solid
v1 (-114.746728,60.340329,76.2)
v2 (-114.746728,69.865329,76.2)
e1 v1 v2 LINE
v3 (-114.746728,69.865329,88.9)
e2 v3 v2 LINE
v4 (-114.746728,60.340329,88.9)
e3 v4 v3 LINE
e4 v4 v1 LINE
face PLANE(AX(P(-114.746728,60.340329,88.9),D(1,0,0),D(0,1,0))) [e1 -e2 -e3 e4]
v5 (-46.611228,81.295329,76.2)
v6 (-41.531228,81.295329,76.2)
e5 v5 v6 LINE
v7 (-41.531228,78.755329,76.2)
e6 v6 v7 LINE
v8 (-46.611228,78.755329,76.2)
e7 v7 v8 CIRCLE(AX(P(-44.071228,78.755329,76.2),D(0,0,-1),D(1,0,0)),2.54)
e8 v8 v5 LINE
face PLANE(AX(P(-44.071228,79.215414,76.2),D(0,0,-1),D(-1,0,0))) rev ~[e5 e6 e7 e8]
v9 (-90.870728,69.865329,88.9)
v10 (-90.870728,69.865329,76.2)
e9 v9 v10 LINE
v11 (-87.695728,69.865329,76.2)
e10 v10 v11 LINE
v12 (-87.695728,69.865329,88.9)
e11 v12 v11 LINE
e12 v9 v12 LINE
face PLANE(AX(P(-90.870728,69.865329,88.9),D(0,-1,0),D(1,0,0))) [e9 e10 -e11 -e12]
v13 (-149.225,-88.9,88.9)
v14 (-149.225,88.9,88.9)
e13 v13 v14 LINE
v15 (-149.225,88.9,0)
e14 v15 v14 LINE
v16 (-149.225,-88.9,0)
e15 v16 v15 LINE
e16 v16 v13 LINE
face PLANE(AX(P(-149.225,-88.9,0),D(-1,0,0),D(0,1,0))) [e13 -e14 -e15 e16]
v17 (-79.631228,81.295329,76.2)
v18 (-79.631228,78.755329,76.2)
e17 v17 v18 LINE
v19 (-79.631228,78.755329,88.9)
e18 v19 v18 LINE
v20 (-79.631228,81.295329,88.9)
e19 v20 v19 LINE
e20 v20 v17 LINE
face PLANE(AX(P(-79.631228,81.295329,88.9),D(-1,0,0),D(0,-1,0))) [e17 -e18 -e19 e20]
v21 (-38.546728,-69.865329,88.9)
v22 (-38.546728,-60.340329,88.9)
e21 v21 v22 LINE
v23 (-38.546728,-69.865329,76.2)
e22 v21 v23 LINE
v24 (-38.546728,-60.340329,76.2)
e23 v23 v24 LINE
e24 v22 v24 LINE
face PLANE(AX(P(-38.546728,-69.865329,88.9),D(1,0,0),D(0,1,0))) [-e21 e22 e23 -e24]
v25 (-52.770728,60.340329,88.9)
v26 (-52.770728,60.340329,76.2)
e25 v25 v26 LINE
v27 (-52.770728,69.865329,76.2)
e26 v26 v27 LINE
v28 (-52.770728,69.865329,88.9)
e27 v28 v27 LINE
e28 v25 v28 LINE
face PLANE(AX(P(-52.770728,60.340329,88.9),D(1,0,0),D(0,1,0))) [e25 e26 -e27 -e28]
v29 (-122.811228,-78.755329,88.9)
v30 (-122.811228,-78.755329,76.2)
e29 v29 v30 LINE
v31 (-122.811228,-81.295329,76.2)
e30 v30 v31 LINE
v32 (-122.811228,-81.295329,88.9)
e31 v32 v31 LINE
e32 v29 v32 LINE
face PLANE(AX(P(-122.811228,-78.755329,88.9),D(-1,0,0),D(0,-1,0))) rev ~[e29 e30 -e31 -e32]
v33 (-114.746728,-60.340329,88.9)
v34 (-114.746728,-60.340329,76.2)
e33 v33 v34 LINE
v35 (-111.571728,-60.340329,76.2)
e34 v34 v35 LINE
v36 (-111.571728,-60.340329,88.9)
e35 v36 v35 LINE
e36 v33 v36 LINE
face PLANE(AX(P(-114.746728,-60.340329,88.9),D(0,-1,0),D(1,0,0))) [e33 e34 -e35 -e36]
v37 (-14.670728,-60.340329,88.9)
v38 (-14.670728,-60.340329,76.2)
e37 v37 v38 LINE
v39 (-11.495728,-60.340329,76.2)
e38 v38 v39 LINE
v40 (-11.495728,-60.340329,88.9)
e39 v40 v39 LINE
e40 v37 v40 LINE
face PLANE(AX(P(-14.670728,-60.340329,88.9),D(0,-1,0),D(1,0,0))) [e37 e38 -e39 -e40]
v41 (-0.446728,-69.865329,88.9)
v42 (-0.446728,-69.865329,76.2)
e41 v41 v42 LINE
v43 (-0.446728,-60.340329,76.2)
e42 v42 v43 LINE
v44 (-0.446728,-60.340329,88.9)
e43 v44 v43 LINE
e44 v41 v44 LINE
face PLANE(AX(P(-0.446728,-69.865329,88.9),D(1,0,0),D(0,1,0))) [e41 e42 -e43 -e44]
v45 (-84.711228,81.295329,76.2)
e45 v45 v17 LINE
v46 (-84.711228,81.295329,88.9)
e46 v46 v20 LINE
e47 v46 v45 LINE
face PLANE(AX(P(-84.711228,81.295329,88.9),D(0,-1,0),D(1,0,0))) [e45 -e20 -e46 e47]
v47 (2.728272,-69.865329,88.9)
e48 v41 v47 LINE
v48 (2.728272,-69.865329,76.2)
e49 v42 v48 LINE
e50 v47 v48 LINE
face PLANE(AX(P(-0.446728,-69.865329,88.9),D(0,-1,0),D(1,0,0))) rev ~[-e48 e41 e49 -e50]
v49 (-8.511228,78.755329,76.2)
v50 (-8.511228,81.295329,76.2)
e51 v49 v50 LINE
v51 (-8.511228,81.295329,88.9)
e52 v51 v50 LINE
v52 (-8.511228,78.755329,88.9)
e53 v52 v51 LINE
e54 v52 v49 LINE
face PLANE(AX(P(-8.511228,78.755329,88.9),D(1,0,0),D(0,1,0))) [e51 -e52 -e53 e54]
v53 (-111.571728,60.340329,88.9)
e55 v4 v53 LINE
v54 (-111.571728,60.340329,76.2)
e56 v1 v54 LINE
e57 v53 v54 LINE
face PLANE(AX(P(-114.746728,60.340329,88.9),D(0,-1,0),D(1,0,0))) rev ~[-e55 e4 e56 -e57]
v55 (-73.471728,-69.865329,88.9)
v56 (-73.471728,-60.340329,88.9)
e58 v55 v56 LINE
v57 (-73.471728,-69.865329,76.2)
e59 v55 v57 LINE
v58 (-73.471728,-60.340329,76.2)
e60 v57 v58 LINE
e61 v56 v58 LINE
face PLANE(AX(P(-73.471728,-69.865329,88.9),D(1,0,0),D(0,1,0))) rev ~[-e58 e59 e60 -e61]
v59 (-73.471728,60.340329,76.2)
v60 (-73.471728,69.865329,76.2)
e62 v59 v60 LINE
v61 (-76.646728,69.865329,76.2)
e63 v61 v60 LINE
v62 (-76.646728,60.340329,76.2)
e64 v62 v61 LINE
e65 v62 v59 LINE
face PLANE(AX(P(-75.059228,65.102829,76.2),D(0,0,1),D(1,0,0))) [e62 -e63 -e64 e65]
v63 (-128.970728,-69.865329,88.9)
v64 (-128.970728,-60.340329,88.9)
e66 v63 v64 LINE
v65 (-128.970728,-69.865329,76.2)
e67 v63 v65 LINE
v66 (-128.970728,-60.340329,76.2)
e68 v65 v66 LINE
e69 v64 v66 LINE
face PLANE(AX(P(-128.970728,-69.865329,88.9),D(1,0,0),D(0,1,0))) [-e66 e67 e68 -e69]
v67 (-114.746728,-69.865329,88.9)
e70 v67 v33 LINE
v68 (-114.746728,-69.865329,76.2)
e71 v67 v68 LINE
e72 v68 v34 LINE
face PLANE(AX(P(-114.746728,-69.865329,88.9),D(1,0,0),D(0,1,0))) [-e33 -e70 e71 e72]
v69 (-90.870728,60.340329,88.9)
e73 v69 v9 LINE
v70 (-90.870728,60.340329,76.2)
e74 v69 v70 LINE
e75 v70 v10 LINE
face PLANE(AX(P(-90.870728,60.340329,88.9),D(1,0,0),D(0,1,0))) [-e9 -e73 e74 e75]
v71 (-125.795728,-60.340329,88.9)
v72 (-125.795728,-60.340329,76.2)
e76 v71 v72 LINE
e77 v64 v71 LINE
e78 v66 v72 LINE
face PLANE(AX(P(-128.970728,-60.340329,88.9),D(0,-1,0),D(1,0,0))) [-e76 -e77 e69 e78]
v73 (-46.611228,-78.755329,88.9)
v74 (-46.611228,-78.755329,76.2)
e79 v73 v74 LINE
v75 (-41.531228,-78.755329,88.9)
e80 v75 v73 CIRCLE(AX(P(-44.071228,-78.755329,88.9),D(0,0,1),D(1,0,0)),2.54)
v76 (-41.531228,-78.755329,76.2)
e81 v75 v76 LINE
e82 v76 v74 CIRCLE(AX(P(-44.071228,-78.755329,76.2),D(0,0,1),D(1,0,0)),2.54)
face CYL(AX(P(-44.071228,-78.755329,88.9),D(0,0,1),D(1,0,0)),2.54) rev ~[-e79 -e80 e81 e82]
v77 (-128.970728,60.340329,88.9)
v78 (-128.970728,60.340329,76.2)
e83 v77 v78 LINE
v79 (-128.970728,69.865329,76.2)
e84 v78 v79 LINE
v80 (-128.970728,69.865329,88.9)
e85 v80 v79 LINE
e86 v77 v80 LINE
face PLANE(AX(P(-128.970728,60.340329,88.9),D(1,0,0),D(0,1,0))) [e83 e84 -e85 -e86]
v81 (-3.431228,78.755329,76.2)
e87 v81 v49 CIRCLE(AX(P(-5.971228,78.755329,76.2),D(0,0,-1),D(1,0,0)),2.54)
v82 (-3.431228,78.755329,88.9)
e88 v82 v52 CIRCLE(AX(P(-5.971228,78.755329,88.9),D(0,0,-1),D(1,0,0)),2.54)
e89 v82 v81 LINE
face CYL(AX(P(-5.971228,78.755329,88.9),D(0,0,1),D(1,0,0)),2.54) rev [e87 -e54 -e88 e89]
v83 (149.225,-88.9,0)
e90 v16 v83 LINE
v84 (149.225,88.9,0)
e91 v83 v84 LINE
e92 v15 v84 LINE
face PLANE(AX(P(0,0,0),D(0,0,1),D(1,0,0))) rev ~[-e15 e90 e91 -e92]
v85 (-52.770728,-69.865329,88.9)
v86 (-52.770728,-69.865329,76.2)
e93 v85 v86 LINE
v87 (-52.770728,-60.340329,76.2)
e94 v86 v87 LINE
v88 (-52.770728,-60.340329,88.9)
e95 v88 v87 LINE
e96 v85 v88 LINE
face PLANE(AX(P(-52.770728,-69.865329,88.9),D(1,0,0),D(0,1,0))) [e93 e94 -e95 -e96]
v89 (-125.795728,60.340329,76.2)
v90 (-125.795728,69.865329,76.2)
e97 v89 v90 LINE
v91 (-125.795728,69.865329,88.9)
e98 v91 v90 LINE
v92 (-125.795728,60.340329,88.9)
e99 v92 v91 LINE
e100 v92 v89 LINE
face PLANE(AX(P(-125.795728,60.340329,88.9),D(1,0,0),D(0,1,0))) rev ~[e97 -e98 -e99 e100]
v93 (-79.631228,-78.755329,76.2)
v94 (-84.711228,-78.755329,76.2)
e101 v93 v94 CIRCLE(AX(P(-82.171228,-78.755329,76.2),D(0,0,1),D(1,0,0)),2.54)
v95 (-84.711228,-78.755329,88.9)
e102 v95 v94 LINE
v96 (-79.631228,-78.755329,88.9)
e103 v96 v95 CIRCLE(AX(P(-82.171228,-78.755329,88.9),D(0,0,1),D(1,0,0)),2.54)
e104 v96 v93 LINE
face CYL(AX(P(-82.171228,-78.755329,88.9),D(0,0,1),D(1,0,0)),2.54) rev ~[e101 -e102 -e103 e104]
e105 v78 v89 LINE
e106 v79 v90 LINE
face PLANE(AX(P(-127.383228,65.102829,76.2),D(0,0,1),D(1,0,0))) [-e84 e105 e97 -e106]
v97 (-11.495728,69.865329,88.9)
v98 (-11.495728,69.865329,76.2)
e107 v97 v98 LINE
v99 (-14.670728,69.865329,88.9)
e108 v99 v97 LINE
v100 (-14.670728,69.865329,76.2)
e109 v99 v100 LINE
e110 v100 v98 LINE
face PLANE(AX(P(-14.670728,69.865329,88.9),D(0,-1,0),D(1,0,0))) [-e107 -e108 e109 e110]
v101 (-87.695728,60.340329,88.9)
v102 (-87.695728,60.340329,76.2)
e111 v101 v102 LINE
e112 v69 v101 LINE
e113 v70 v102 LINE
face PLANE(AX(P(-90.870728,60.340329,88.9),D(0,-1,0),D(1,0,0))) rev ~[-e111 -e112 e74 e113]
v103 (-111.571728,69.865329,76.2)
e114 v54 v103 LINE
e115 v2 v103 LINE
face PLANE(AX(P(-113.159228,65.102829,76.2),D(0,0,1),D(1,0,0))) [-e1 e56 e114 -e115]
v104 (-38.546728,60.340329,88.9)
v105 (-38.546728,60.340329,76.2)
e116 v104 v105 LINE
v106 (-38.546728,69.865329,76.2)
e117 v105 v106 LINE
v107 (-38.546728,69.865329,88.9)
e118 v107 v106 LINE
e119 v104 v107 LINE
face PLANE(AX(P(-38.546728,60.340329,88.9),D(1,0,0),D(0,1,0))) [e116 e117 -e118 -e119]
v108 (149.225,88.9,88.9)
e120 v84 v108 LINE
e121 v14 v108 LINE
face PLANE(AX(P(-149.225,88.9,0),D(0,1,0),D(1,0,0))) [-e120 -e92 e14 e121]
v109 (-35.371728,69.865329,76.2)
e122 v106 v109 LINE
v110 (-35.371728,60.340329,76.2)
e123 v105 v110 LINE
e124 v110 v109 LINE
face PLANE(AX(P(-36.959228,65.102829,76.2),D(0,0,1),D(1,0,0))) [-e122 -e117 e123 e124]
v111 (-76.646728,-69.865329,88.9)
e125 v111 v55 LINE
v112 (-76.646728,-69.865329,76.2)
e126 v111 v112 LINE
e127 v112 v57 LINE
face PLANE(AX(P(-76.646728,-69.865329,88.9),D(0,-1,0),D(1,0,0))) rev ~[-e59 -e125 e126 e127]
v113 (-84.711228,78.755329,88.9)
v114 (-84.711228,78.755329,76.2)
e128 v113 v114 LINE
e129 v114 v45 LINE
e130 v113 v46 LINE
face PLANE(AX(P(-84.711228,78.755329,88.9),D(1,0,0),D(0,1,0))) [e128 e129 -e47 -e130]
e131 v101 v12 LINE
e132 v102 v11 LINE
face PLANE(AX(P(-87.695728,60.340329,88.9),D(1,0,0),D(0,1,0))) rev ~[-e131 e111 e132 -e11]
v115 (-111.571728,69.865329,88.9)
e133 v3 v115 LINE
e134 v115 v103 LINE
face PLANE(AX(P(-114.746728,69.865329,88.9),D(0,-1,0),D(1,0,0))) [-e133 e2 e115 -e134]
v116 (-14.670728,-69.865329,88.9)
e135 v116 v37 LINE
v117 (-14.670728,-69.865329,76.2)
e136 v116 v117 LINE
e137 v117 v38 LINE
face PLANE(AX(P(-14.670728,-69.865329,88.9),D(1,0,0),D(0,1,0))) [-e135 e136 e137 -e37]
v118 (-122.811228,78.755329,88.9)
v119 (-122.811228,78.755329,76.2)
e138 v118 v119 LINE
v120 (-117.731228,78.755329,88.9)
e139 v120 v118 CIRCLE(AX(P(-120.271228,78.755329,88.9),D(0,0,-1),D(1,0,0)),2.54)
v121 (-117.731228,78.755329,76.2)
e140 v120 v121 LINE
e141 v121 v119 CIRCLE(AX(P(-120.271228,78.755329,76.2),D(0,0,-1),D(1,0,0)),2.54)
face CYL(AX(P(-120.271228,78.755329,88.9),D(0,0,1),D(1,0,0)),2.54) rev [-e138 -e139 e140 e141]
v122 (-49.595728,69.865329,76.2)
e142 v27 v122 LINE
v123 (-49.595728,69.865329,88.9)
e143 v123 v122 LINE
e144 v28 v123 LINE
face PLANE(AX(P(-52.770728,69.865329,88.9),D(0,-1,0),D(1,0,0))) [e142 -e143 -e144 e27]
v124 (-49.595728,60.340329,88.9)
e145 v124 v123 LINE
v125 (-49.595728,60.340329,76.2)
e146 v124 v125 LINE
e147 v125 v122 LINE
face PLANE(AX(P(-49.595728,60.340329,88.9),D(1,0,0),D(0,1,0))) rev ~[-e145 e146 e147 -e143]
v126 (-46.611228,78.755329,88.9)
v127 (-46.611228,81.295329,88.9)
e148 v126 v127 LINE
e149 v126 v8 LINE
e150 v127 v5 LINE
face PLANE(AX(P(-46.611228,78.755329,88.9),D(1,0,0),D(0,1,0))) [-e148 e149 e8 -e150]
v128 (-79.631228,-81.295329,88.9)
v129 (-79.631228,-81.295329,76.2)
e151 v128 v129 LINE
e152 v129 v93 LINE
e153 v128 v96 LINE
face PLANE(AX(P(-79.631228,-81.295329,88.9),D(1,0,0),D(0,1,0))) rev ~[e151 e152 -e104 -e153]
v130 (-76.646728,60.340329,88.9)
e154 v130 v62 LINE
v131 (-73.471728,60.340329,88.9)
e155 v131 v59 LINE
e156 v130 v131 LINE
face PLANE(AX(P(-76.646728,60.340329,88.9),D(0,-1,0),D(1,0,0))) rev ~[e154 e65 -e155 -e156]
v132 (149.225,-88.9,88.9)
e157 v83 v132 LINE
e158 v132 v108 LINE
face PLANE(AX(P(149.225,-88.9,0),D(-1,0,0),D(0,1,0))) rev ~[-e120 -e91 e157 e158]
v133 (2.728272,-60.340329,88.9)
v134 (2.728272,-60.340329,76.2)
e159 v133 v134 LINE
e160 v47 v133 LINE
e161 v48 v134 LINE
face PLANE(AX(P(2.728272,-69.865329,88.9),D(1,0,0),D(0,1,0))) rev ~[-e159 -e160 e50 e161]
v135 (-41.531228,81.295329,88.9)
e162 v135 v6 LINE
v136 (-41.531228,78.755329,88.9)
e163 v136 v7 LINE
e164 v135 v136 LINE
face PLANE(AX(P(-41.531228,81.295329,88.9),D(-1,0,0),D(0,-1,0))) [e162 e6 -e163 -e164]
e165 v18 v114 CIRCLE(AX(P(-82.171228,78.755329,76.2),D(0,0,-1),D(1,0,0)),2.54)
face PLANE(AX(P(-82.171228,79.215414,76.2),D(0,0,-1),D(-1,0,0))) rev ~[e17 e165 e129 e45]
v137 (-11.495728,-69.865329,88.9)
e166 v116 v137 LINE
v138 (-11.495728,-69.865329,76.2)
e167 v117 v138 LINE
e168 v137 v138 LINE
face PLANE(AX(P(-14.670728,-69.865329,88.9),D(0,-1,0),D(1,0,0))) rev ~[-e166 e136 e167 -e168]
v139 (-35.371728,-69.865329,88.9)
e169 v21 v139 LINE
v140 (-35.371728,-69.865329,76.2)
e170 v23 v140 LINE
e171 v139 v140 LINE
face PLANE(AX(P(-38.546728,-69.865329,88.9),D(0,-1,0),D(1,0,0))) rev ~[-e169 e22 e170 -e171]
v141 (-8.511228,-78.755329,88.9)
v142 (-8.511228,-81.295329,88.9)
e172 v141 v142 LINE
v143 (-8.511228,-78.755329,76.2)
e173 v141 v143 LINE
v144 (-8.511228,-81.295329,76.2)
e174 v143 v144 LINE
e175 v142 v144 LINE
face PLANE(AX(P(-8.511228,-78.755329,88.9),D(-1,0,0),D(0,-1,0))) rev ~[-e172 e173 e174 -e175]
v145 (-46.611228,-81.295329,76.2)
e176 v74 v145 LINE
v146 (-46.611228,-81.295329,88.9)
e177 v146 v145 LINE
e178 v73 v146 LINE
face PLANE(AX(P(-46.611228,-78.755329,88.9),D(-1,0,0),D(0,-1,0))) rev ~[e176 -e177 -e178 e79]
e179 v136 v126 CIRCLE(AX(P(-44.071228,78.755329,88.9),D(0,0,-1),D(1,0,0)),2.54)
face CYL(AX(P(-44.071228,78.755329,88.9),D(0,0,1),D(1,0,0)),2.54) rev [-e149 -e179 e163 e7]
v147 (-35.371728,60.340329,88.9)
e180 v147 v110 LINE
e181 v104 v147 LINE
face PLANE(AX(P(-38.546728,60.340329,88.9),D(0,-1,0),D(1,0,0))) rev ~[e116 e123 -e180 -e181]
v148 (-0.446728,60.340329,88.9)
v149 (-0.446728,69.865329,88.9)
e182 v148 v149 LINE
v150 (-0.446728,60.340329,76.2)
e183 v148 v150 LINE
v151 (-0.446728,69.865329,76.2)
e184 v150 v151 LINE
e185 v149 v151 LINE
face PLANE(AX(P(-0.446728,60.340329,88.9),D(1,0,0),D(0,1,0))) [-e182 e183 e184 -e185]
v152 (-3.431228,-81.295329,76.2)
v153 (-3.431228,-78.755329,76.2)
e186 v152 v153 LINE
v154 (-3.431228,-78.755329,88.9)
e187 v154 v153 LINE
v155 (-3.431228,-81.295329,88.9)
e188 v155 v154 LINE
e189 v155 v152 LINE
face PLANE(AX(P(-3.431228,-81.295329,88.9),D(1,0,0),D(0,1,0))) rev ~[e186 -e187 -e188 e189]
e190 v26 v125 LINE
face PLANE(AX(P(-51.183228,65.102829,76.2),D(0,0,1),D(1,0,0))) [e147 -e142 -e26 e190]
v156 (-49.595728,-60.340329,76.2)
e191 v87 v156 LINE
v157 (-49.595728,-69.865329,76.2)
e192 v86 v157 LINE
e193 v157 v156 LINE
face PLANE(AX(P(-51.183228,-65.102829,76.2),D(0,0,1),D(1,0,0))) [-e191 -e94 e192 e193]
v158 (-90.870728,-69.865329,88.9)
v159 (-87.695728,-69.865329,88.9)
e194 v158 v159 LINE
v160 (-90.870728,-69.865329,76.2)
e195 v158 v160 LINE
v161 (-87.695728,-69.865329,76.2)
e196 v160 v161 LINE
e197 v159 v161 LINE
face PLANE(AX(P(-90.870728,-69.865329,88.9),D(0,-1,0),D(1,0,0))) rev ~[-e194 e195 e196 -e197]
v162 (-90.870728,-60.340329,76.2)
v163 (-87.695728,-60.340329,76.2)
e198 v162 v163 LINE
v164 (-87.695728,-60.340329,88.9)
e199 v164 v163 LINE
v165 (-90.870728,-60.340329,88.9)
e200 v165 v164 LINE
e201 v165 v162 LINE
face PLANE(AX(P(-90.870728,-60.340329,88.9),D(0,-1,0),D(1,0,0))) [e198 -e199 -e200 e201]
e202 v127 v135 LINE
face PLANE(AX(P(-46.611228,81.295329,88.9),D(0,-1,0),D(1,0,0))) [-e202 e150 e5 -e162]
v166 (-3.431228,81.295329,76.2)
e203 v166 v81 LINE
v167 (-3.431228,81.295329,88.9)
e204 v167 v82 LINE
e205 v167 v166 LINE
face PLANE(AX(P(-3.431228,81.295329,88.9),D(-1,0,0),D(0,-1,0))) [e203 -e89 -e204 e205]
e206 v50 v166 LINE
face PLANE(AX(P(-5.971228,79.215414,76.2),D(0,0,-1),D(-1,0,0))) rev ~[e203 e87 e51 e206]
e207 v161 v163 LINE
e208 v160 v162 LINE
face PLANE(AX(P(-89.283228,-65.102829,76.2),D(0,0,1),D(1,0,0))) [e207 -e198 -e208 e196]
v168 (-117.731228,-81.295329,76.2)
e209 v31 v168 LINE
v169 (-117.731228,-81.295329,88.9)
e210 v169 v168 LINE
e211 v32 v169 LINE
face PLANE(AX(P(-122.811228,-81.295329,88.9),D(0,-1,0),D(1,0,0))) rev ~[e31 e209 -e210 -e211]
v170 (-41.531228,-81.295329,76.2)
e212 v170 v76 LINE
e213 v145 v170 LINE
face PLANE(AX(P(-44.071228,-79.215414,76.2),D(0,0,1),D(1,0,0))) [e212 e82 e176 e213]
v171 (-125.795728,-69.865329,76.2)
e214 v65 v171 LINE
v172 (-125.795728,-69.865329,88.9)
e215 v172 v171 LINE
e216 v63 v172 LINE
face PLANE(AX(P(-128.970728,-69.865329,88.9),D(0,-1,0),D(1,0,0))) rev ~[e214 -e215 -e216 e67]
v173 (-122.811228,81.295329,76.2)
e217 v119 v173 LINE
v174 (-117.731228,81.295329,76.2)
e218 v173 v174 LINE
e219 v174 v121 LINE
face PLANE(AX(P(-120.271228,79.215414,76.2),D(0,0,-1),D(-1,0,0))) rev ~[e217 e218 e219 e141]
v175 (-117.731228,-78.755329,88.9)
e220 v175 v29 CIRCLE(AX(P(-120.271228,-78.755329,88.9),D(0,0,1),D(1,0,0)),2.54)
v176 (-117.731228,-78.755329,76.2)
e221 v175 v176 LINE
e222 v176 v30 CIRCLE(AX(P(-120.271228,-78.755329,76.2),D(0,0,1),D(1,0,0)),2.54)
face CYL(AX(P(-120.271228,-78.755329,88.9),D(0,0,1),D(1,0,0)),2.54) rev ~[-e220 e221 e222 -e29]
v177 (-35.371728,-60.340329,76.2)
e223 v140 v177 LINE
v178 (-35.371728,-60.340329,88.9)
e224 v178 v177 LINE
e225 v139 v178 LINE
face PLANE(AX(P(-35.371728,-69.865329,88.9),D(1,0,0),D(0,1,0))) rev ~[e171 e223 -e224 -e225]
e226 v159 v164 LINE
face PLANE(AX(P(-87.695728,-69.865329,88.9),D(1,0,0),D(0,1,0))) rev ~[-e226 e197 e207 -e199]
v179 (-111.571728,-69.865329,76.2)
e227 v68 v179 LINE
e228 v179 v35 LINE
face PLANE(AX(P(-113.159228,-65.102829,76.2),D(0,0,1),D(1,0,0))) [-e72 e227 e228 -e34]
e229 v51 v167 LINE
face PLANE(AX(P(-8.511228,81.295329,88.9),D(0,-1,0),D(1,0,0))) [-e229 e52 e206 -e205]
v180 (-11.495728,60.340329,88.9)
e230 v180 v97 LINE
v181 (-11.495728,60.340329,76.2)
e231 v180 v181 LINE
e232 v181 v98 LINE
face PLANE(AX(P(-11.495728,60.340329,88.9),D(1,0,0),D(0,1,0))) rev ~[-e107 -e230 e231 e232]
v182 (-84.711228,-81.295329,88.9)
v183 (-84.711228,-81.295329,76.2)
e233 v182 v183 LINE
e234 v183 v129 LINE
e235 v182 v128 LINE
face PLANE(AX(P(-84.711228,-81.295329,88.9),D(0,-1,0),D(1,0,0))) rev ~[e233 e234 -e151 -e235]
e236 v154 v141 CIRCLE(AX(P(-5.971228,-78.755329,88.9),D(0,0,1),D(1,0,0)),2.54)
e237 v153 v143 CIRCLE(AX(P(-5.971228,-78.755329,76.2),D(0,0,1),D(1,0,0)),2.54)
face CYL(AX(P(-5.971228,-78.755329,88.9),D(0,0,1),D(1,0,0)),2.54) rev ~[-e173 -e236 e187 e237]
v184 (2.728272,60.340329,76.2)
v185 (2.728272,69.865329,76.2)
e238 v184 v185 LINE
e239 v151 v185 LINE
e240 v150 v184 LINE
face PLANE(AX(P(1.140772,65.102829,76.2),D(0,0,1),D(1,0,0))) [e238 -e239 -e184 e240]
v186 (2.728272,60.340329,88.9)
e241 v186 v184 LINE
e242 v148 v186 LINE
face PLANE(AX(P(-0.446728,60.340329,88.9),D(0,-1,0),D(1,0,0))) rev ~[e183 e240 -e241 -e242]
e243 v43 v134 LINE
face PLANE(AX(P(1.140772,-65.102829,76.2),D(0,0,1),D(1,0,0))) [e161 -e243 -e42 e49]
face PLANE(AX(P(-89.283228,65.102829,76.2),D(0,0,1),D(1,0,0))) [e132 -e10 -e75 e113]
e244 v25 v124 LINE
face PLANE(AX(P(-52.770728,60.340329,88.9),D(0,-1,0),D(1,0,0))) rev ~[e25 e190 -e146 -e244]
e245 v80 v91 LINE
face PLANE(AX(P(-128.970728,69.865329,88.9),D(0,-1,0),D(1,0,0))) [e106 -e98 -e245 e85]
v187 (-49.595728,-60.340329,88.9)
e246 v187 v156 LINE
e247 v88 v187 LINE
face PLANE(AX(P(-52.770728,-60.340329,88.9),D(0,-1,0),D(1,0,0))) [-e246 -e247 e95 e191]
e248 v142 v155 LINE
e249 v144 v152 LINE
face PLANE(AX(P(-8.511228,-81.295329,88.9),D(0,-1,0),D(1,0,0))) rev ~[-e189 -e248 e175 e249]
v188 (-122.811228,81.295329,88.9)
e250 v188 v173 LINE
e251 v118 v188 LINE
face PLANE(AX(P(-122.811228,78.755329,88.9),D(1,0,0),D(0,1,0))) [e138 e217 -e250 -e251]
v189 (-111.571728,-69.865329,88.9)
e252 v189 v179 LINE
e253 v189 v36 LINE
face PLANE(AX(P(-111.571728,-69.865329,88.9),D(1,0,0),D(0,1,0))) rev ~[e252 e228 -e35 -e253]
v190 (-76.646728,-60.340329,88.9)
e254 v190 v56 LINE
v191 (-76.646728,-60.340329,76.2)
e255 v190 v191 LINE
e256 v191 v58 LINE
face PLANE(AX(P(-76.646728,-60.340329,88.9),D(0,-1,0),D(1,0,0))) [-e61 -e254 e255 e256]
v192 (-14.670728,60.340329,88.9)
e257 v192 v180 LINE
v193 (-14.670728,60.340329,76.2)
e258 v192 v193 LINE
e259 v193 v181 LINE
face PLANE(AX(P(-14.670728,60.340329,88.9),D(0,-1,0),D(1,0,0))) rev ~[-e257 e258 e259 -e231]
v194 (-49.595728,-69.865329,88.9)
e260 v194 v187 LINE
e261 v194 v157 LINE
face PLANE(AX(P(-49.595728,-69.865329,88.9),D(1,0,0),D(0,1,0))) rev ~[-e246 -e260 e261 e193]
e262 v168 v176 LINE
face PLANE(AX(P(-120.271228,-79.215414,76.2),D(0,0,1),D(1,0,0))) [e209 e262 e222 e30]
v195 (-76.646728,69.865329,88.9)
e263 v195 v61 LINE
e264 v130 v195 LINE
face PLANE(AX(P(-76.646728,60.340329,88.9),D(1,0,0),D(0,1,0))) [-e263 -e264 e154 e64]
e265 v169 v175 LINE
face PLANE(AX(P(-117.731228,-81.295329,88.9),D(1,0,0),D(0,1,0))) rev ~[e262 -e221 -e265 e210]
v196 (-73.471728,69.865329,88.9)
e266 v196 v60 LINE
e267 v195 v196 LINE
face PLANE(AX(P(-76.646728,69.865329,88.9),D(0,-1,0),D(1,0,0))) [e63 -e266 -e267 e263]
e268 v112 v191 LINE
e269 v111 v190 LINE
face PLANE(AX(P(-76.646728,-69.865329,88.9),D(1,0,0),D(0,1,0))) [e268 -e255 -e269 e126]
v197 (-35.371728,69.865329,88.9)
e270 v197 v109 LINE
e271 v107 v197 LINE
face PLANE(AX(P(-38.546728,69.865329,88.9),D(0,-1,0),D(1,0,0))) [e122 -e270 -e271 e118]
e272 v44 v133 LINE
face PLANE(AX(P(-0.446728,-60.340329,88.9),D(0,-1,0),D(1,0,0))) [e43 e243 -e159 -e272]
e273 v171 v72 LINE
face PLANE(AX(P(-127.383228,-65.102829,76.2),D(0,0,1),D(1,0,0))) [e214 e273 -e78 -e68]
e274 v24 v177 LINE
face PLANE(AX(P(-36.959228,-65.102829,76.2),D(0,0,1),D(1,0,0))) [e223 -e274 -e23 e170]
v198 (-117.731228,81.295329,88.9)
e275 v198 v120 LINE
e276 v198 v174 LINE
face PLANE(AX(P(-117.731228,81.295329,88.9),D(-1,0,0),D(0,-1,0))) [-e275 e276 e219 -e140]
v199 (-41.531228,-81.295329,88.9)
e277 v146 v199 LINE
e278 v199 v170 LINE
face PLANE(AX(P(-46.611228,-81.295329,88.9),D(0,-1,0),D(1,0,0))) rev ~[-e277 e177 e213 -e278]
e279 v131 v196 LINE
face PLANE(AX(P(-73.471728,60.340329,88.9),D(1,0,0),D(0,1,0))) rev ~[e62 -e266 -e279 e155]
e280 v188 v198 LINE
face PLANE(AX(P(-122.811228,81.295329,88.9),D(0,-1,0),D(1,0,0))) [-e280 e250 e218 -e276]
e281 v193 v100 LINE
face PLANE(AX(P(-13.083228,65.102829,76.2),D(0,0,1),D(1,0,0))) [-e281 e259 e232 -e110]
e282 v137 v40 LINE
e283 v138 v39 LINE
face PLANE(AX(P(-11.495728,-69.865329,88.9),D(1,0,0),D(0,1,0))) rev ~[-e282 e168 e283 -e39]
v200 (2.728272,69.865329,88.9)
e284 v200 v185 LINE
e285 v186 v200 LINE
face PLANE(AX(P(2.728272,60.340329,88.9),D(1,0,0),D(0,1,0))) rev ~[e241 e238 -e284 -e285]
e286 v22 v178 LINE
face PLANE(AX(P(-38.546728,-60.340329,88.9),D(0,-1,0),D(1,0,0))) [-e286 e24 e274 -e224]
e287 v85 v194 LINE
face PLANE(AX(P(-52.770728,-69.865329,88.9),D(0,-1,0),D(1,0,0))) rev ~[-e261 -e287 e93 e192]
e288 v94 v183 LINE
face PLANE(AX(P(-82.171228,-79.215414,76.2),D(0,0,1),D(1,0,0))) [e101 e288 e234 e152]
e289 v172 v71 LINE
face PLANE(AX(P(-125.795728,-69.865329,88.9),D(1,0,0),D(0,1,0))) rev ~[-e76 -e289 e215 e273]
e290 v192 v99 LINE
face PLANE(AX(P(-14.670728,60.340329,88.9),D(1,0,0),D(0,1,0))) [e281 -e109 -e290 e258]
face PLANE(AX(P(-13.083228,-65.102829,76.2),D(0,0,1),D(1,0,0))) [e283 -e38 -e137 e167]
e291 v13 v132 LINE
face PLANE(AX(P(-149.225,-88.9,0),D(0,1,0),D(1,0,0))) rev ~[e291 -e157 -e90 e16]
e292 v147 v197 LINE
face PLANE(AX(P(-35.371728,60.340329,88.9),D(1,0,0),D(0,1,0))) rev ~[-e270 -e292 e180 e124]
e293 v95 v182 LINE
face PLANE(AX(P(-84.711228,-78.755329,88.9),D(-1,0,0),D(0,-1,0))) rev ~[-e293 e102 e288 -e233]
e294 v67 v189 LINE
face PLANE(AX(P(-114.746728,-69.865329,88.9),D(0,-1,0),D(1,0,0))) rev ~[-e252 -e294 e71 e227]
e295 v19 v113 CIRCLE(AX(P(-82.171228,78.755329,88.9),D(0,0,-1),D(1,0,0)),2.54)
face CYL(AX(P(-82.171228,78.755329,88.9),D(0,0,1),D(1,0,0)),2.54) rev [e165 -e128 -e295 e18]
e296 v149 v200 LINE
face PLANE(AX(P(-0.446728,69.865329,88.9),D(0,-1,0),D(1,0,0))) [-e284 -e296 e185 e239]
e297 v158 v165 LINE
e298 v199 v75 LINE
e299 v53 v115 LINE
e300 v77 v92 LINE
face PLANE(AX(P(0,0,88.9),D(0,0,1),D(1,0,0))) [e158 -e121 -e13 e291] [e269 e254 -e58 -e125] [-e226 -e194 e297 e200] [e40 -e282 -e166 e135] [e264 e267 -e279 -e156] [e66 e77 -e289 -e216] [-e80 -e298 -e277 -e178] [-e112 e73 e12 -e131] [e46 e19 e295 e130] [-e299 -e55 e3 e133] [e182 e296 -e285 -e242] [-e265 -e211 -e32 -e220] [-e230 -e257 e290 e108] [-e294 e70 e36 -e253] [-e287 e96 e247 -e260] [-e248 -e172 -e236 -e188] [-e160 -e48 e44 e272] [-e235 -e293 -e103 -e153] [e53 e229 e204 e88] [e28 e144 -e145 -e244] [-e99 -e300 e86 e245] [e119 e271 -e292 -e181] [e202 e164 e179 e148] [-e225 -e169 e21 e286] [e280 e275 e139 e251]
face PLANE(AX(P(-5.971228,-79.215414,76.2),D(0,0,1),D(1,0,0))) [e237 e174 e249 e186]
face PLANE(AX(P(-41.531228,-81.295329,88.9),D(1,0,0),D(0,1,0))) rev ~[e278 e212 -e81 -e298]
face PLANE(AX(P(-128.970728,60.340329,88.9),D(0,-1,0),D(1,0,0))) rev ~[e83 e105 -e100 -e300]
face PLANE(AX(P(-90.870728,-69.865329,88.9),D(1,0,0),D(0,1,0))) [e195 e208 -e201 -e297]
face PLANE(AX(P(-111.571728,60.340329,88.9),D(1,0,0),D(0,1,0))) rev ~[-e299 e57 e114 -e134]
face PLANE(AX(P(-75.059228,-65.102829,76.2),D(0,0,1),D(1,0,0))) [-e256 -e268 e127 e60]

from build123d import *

# Parameters (mm, degrees)
SKETCH1_W           = 298.45
SKETCH1_H           = 177.8
BOSS_EXTRUDE1_DEPTH = 88.9
SKETCH2_W           = 3.175
SKETCH2_H           = 9.525
CUT_EXTRUDE1_DEPTH  = 12.7


with BuildPart() as part:
    # Sketch1 → Boss-Extrude1 (new body)
    with BuildSketch(Plane.XY):
        Rectangle(SKETCH1_W, SKETCH1_H)
    extrude(amount=BOSS_EXTRUDE1_DEPTH)

    # Sketch2 → Cut-Extrude1 (cut)
    with BuildSketch(Plane.XY.offset(88.9)):
        with Locations((-113.159227622, 65.102829303)):
            Rectangle(SKETCH2_W, SKETCH2_H)
        with Locations((-127.383227622, 65.102829303)):
            Rectangle(SKETCH2_W, SKETCH2_H)
        with Locations((-75.059227622, 65.102829303)):
            Rectangle(SKETCH2_W, SKETCH2_H)
        with Locations((-89.283227622, 65.102829303)):
            Rectangle(SKETCH2_W, SKETCH2_H)
        with BuildLine():
            Line((-122.811227622, 81.295329303), (-117.731227622, 81.295329303))
            Line((-117.731227622, 81.295329303), (-117.731227622, 78.755329303))
            ThreePointArc((-117.731227622, 78.755329303), (-120.271227622, 76.215329303), (-122.811227622, 78.755329303))
            Line((-122.811227622, 78.755329303), (-122.811227622, 81.295329303))
        make_face()
        with BuildLine():
            Line((-84.711227622, 81.295329303), (-79.631227622, 81.295329303))
            Line((-79.631227622, 81.295329303), (-79.631227622, 78.755329303))
            ThreePointArc((-79.631227622, 78.755329303), (-82.171227622, 76.215329303), (-84.711227622, 78.755329303))
            Line((-84.711227622, 78.755329303), (-84.711227622, 81.295329303))
        make_face()
        with Locations((-36.959227622, 65.102829303)):
            Rectangle(SKETCH2_W, SKETCH2_H)
        with Locations((-51.183227622, 65.102829303)):
            Rectangle(SKETCH2_W, SKETCH2_H)
        with BuildLine():
            Line((-46.611227622, 81.295329303), (-41.531227622, 81.295329303))
            Line((-41.531227622, 81.295329303), (-41.531227622, 78.755329303))
            ThreePointArc((-41.531227622, 78.755329303), (-44.071227622, 76.215329303), (-46.611227622, 78.755329303))
            Line((-46.611227622, 78.755329303), (-46.611227622, 81.295329303))
        make_face()
        with Locations((1.140772378, 65.102829303)):
            Rectangle(SKETCH2_W, SKETCH2_H)
        with Locations((-13.083227622, 65.102829303)):
            Rectangle(SKETCH2_W, SKETCH2_H)
        with BuildLine():
            Line((-8.511227622, 81.295329303), (-3.431227622, 81.295329303))
            Line((-3.431227622, 81.295329303), (-3.431227622, 78.755329303))
            ThreePointArc((-3.431227622, 78.755329303), (-5.971227622, 76.215329303), (-8.511227622, 78.755329303))
            Line((-8.511227622, 78.755329303), (-8.511227622, 81.295329303))
        make_face()
        with BuildLine():
            Line((-3.431227622, -81.295329303), (-3.431227622, -78.755329303))
            ThreePointArc((-3.431227622, -78.755329303), (-5.971227622, -76.215329303), (-8.511227622, -78.755329303))
            Line((-8.511227622, -78.755329303), (-8.511227622, -81.295329303))
            Line((-8.511227622, -81.295329303), (-3.431227622, -81.295329303))
        make_face()
        with Locations((1.140772378, -65.102829303)):
            Rectangle(SKETCH2_W, SKETCH2_H)
        with Locations((-13.083227622, -65.102829303)):
            Rectangle(SKETCH2_W, SKETCH2_H)
        with BuildLine():
            Line((-41.531227622, -81.295329303), (-41.531227622, -78.755329303))
            ThreePointArc((-41.531227622, -78.755329303), (-44.071227622, -76.215329303), (-46.611227622, -78.755329303))
            Line((-46.611227622, -78.755329303), (-46.611227622, -81.295329303))
            Line((-46.611227622, -81.295329303), (-41.531227622, -81.295329303))
        make_face()
        with Locations((-36.959227622, -65.102829303)):
            Rectangle(SKETCH2_W, SKETCH2_H)
        with Locations((-51.183227622, -65.102829303)):
            Rectangle(SKETCH2_W, SKETCH2_H)
        with BuildLine():
            Line((-79.631227622, -81.295329303), (-79.631227622, -78.755329303))
            ThreePointArc((-79.631227622, -78.755329303), (-82.171227622, -76.215329303), (-84.711227622, -78.755329303))
            Line((-84.711227622, -78.755329303), (-84.711227622, -81.295329303))
            Line((-84.711227622, -81.295329303), (-79.631227622, -81.295329303))
        make_face()
        with Locations((-75.059227622, -65.102829303)):
            Rectangle(SKETCH2_W, SKETCH2_H)
        with Locations((-89.283227622, -65.102829303)):
            Rectangle(SKETCH2_W, SKETCH2_H)
        with BuildLine():
            Line((-117.731227622, -81.295329303), (-117.731227622, -78.755329303))
            ThreePointArc((-117.731227622, -78.755329303), (-120.271227622, -76.215329303), (-122.811227622, -78.755329303))
            Line((-122.811227622, -78.755329303), (-122.811227622, -81.295329303))
            Line((-122.811227622, -81.295329303), (-117.731227622, -81.295329303))
        make_face()
        with Locations((-113.159227622, -65.102829303)):
            Rectangle(SKETCH2_W, SKETCH2_H)
        with Locations((-127.383227622, -65.102829303)):
            Rectangle(SKETCH2_W, SKETCH2_H)
    extrude(amount=-CUT_EXTRUDE1_DEPTH, mode=Mode.SUBTRACT)


solid = part.part
